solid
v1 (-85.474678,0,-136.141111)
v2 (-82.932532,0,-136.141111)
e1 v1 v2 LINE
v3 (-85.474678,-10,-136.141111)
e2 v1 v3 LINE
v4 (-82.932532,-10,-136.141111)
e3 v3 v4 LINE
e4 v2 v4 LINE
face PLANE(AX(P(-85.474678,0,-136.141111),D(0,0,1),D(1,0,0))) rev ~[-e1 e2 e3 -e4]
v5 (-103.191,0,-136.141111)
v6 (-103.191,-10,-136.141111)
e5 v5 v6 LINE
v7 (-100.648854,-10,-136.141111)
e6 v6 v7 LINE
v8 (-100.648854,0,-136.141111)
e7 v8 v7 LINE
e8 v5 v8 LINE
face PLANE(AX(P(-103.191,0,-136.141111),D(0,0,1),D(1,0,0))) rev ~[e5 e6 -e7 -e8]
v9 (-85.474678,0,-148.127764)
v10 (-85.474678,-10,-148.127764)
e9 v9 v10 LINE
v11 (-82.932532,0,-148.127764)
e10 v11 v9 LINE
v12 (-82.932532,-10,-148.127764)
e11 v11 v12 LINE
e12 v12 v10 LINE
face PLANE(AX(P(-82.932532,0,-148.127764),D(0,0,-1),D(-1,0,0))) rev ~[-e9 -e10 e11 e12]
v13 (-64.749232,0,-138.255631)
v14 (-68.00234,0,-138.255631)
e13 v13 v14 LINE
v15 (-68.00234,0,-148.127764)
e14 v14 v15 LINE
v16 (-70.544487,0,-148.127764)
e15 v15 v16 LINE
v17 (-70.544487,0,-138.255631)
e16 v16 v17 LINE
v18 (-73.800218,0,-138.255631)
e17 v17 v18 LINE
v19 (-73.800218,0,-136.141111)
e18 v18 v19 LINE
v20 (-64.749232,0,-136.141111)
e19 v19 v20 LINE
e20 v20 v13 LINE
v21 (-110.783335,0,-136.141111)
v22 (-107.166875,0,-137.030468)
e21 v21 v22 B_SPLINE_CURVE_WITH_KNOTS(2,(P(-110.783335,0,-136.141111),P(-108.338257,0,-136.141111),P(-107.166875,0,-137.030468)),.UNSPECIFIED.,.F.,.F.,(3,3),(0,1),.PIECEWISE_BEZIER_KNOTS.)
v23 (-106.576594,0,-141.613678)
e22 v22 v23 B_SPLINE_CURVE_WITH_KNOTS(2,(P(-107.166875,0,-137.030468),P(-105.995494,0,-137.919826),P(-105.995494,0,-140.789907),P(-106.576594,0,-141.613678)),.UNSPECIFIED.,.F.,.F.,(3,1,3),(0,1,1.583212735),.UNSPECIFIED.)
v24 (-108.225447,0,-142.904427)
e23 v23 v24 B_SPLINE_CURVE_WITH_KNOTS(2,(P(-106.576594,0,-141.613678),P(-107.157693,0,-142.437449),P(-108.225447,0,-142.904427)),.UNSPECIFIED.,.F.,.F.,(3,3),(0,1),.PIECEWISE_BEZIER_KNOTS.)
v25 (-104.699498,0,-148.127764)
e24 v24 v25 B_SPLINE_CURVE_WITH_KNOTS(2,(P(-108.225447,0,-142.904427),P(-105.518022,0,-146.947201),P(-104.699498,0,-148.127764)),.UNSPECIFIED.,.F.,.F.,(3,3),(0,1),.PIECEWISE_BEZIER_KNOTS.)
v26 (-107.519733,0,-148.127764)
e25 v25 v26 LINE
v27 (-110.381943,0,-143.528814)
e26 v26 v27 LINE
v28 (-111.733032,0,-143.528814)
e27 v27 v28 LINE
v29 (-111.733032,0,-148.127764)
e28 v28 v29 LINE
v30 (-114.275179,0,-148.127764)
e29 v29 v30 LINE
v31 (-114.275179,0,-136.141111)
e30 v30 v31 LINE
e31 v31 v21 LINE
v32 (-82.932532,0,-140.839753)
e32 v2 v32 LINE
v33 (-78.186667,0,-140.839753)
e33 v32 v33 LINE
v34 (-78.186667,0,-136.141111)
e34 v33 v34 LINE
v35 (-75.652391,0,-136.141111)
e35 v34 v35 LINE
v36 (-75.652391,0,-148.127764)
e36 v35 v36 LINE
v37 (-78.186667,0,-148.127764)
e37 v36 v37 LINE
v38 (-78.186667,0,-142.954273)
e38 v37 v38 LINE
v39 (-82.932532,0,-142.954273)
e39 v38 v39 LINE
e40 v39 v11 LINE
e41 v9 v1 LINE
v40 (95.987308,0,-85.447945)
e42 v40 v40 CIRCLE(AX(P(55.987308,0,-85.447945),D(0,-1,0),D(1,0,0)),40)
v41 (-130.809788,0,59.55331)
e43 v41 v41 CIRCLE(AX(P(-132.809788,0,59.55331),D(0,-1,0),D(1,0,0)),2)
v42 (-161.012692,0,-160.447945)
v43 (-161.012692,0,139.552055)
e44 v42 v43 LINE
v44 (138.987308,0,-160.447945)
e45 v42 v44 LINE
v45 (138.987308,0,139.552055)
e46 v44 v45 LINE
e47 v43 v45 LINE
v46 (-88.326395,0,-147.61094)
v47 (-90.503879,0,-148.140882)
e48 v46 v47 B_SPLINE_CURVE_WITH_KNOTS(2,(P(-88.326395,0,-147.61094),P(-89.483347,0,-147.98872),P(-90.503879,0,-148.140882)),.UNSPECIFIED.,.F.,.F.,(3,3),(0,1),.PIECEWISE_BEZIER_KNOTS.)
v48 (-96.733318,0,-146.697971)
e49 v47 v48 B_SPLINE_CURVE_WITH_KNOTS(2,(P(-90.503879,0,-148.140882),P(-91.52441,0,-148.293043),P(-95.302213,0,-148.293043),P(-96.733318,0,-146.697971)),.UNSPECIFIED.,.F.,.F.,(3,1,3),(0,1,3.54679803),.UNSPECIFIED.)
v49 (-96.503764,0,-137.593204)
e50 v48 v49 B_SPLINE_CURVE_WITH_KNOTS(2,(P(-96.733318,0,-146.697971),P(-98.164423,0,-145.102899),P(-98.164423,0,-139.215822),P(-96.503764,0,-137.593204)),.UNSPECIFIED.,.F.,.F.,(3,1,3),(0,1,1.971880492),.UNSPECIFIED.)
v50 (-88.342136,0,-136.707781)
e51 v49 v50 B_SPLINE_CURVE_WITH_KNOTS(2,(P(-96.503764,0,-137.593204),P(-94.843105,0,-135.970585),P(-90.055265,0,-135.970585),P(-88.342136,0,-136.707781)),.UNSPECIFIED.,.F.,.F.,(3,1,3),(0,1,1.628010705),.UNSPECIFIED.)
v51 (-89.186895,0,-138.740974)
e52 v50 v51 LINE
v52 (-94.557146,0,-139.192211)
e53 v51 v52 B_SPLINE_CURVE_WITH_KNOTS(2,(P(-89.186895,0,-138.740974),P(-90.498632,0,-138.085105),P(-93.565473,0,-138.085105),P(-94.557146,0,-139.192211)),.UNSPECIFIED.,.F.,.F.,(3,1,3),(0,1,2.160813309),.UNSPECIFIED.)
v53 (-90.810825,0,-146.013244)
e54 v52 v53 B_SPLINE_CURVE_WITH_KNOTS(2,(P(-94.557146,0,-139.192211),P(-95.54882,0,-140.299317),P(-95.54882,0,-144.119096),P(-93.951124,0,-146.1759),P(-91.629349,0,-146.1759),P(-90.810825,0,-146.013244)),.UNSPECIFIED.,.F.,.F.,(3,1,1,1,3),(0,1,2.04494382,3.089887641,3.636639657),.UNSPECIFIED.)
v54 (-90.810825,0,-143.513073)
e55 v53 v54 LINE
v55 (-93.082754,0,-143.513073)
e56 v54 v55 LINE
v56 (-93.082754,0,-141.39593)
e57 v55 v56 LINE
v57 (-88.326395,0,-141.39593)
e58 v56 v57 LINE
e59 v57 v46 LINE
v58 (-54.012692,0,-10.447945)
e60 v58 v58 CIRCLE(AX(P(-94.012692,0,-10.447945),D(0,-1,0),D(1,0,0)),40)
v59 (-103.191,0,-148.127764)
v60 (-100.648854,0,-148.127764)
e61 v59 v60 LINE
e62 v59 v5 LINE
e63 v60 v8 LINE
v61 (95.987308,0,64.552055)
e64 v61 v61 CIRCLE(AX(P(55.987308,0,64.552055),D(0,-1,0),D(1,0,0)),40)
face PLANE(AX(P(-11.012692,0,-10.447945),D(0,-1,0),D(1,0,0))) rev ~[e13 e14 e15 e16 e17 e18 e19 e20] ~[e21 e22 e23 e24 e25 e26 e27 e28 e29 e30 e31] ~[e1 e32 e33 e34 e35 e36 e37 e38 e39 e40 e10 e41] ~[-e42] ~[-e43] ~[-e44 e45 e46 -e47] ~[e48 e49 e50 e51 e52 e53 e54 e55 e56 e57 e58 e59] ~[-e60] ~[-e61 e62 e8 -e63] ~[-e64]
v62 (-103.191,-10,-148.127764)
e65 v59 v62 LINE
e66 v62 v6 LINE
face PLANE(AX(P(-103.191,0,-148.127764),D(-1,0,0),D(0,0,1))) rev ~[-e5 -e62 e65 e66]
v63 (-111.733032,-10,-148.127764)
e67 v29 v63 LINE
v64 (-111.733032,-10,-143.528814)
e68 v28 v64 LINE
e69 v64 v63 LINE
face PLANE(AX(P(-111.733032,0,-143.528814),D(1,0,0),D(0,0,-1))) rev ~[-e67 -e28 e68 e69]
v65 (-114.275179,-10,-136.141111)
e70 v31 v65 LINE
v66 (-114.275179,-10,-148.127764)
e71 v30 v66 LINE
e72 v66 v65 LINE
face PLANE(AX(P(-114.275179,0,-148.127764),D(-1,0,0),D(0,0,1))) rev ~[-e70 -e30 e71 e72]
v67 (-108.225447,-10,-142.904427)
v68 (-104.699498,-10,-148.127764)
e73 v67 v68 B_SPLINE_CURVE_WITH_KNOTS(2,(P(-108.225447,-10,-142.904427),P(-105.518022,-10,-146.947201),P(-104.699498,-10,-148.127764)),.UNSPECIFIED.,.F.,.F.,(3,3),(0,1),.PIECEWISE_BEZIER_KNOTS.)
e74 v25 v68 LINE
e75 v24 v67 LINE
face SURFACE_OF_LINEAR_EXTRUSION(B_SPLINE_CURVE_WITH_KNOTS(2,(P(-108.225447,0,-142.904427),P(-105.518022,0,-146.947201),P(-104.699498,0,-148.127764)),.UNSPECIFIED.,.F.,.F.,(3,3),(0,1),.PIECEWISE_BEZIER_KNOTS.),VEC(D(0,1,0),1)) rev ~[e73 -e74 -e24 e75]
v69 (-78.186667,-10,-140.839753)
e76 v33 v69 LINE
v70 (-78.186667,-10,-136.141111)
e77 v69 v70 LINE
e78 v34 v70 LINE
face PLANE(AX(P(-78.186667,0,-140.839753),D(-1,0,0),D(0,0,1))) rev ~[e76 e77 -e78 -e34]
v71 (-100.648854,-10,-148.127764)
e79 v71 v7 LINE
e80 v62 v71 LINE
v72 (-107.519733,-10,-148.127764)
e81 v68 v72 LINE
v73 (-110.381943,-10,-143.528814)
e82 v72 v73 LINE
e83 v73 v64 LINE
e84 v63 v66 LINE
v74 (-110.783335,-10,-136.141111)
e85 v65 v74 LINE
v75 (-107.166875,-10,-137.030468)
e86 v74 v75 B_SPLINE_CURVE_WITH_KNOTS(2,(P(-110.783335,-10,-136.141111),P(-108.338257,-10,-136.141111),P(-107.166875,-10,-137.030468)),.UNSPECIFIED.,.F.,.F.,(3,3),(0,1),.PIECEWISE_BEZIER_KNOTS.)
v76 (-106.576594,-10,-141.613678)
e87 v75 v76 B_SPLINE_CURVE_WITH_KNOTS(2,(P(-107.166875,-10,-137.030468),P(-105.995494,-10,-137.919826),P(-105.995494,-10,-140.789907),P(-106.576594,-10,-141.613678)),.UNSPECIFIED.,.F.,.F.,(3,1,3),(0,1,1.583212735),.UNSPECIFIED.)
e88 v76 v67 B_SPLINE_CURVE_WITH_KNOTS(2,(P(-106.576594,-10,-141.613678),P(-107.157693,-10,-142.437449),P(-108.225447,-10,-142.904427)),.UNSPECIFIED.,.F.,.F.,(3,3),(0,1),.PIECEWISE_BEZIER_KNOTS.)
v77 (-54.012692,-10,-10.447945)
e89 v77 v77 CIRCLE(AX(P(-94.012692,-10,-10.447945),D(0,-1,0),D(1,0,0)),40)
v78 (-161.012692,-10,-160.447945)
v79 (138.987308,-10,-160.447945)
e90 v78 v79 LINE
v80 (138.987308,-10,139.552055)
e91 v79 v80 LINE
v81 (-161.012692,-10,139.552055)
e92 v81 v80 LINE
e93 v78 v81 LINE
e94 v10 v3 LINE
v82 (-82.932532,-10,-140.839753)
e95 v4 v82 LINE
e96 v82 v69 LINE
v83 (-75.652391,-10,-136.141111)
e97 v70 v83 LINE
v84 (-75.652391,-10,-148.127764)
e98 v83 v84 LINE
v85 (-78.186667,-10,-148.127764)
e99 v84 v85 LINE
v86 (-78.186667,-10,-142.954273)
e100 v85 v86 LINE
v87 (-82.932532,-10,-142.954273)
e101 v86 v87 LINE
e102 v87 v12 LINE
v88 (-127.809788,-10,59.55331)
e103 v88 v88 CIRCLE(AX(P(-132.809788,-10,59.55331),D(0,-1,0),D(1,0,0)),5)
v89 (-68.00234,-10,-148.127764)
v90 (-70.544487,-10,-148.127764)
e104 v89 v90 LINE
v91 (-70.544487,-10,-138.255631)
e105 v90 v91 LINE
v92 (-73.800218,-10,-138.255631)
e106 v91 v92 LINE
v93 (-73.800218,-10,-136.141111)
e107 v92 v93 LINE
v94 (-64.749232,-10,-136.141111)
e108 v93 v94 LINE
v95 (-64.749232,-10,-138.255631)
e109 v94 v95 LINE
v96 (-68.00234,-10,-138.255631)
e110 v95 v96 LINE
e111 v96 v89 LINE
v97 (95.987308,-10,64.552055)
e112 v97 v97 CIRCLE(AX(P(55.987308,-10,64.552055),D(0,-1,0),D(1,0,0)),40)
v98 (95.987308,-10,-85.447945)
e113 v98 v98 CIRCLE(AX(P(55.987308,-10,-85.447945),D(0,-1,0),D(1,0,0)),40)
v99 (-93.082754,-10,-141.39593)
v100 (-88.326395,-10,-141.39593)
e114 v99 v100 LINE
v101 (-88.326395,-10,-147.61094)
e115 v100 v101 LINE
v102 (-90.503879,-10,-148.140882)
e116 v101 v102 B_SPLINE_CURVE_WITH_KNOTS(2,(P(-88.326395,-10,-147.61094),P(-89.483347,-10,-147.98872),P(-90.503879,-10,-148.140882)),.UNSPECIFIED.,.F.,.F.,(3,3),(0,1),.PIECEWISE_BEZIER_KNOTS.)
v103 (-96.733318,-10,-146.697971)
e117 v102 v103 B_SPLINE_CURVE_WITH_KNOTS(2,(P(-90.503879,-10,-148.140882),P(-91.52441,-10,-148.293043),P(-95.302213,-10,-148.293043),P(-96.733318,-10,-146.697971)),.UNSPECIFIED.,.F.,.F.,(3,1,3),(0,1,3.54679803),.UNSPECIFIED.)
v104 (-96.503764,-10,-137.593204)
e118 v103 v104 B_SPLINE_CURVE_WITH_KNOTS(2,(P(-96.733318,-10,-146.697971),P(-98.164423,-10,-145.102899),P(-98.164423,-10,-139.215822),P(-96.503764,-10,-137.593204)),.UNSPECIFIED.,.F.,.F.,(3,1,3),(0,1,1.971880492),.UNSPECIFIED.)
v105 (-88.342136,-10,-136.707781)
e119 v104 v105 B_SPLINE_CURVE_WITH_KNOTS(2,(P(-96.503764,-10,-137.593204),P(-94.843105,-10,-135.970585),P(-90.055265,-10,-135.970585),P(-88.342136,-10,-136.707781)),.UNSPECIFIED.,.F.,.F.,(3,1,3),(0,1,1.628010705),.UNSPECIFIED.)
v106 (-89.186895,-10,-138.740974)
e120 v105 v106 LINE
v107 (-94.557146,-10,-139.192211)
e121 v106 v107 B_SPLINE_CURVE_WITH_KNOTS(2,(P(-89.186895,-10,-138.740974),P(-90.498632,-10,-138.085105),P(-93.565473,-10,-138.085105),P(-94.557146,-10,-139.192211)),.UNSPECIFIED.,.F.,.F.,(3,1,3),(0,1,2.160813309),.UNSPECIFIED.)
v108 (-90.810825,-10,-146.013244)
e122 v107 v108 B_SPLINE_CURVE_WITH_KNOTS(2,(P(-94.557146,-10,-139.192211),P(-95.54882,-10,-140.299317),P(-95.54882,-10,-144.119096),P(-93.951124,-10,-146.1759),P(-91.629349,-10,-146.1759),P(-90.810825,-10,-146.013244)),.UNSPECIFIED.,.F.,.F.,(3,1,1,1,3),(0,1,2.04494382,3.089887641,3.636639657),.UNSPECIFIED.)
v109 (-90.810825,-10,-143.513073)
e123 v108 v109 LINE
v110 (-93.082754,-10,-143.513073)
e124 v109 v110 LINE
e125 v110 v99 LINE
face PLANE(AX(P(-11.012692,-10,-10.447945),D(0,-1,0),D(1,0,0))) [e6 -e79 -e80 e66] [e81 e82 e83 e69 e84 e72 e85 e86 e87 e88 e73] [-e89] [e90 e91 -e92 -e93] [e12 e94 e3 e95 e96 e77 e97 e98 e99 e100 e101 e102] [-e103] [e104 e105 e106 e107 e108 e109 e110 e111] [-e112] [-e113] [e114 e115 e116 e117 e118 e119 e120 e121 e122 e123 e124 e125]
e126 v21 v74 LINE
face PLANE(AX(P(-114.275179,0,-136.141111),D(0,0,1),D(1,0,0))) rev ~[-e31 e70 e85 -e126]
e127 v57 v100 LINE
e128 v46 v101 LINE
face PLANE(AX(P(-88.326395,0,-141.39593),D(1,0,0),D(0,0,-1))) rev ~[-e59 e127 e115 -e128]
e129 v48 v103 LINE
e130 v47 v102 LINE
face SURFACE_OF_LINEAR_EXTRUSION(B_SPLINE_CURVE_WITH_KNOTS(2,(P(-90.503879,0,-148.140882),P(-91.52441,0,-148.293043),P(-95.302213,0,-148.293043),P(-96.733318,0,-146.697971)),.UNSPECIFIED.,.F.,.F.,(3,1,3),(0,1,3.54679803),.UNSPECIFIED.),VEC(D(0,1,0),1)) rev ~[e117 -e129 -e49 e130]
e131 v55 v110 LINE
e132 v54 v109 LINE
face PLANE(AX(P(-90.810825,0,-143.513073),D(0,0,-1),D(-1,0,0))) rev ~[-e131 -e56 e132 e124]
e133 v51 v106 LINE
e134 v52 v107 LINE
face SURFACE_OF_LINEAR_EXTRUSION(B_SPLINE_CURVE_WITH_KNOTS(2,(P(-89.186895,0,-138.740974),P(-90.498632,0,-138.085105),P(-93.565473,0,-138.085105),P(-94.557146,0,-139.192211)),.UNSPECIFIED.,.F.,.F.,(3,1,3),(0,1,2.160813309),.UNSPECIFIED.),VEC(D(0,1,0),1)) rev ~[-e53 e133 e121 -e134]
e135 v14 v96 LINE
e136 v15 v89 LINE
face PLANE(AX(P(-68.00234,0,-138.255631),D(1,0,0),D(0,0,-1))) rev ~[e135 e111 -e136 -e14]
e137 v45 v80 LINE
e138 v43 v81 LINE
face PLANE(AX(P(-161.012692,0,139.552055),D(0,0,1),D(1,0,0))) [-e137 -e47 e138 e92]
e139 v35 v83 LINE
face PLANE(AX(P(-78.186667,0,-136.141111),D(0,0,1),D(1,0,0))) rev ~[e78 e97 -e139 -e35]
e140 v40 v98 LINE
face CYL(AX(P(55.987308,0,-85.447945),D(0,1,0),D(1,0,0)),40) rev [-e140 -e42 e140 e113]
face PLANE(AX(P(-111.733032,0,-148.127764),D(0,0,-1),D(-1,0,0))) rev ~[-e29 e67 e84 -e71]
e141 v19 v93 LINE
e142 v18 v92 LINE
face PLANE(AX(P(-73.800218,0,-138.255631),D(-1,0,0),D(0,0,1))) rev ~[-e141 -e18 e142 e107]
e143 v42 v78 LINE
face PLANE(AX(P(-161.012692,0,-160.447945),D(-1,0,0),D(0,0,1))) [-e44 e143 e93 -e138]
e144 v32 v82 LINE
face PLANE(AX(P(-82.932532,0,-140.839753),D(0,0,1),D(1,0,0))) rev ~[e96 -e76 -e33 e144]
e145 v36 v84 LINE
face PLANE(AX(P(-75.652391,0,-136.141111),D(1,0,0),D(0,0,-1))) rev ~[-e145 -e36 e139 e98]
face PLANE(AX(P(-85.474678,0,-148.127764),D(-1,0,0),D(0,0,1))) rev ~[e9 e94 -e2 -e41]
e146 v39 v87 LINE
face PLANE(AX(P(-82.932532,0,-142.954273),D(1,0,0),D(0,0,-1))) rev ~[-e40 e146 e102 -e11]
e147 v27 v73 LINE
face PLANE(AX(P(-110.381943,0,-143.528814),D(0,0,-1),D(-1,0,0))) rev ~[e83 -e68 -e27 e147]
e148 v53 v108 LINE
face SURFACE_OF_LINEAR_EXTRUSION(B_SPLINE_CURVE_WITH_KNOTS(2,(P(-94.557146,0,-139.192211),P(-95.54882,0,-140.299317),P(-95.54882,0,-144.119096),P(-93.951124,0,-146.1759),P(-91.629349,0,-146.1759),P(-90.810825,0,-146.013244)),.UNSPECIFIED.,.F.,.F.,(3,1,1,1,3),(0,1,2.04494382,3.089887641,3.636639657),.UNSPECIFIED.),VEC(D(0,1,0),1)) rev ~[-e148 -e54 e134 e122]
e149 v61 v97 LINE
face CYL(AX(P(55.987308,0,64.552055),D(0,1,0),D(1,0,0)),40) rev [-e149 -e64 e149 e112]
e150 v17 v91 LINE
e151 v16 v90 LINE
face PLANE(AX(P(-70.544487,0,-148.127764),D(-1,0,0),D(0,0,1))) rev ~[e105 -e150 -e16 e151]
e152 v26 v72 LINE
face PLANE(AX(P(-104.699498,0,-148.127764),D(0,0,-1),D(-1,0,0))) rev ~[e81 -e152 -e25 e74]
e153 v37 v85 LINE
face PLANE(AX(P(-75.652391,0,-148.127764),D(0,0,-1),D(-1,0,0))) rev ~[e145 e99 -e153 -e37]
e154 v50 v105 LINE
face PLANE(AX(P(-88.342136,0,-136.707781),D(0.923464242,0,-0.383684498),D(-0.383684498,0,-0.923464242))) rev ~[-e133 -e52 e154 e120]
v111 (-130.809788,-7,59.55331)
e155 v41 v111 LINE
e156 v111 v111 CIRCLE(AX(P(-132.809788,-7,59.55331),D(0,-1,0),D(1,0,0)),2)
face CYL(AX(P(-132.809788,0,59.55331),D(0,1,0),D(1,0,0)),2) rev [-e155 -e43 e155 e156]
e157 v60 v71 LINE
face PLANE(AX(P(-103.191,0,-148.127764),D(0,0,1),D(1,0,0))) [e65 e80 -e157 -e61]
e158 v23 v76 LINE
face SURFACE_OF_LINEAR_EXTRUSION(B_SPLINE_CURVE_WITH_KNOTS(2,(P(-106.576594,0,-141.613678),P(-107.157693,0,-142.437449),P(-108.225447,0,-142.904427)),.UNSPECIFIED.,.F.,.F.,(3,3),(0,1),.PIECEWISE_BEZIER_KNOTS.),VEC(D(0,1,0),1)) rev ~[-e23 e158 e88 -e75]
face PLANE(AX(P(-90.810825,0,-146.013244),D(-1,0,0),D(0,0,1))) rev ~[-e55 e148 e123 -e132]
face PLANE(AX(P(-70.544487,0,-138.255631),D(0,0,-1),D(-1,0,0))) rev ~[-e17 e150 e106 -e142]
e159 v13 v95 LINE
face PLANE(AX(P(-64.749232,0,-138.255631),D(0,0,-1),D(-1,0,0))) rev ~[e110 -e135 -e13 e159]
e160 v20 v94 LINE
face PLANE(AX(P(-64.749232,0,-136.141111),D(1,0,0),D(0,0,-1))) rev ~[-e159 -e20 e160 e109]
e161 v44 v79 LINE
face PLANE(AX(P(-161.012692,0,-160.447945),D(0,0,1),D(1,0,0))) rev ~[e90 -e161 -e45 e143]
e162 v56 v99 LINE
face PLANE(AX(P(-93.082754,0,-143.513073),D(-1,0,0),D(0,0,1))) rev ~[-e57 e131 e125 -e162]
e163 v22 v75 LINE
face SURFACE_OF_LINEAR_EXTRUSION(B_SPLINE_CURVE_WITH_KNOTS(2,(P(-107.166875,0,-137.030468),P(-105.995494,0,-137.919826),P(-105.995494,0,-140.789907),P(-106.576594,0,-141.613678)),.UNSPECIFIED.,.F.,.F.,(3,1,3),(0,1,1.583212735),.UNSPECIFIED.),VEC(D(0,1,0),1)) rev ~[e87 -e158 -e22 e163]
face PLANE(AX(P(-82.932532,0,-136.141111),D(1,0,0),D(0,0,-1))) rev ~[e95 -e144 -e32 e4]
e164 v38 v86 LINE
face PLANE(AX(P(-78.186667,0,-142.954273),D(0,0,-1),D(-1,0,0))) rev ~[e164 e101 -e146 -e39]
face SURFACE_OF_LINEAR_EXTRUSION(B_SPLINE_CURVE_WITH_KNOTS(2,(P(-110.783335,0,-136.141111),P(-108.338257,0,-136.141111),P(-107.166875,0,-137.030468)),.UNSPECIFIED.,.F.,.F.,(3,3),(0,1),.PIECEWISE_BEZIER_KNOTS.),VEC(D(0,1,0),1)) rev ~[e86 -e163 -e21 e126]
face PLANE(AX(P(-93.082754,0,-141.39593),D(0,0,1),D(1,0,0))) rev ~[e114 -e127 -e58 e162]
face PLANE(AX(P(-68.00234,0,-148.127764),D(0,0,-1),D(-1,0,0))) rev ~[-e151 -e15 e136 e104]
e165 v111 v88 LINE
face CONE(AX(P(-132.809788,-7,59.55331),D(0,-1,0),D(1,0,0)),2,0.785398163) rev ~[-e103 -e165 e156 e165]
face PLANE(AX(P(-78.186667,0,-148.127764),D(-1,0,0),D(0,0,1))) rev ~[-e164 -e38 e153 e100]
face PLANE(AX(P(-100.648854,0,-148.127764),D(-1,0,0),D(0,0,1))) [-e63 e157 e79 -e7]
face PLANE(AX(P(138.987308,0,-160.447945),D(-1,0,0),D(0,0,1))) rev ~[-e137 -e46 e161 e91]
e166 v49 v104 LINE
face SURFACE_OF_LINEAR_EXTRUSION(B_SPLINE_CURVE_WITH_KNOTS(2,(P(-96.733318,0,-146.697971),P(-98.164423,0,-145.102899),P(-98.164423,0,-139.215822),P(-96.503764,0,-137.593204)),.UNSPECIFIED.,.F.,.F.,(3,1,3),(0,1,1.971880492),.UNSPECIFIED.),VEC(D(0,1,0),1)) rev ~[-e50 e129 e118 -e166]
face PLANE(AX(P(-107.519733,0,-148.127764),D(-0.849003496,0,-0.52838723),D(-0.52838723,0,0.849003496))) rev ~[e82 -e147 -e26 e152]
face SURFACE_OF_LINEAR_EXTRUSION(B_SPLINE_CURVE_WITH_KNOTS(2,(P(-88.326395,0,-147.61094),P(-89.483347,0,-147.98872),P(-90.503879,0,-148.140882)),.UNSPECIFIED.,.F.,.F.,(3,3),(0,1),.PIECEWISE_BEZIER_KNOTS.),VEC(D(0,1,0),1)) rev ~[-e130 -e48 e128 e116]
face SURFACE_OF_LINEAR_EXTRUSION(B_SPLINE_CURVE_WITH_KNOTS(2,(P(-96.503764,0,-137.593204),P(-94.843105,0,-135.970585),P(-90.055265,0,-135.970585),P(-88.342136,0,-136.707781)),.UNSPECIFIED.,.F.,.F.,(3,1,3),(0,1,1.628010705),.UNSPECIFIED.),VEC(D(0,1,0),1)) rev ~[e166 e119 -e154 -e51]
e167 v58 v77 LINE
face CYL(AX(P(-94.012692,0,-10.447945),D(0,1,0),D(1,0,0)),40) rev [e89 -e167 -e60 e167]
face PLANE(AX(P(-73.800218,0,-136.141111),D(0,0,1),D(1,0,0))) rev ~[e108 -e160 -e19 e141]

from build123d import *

# Parameters (mm, degrees)
F0_W     = 300
F0_H     = 300
F0_W_2   = 2.5421465495
F0_H_2   = 11.9866538541
F0_R     = 40
F0_R_2   = 2
F1_DEPTH = 10
F2_SIZE  = 3


with BuildPart() as f1:
    # F0 (on Front) → F1 (new body)
    with BuildSketch(Plane.XZ):
        with Locations((-11.0126920044, -10.4479454458)):
            Rectangle(F0_W, F0_H)
        with BuildLine():
            Line((-110.3819430217, -143.5288141009), (-111.7330322611, -143.5288141009))
            Line((-111.7330322611, -143.5288141009), (-111.7330322611, -148.1277644634))
            Line((-111.7330322611, -148.1277644634), (-114.2751788106, -148.1277644634))
            Line((-114.2751788106, -148.1277644634), (-114.2751788106, -136.1411106094))
            Line((-114.2751788106, -136.1411106094), (-110.7833345822, -136.1411106094))
            add(Edge.make_bspline(
                [(-110.7833345822, -136.1411106094), (-108.33825658, -136.1411106094), (-107.1668753268, -137.0304683805)],
                knots=[0, 0, 0, 1, 1, 1], degree=2))
            add(Edge.make_bspline(
                [(-107.1668753268, -137.0304683805), (-105.9954940736, -137.9198261517), (-105.9954940736, -139.7326468594)],
                knots=[0, 0, 0, 1, 1, 1], degree=2))
            add(Edge.make_bspline(
                [(-105.9954940736, -139.7326468594), (-105.9954940736, -140.7899069826), (-106.5765936202, -141.6136778975)],
                knots=[0, 0, 0, 1, 1, 1], degree=2))
            add(Edge.make_bspline(
                [(-106.5765936202, -141.6136778975), (-107.1576931669, -142.4374488124), (-108.2254471872, -142.9044272291)],
                knots=[0, 0, 0, 1, 1, 1], degree=2))
            add(Edge.make_bspline(
                [(-108.2254471872, -142.9044272291), (-105.5180217599, -146.9472010504), (-104.6994977935, -148.1277644634)],
                knots=[0, 0, 0, 1, 1, 1], degree=2))
            Line((-104.6994977935, -148.1277644634), (-107.5197326136, -148.1277644634))
            Line((-107.5197326136, -148.1277644634), (-110.3819430217, -143.5288141009))
        make_face(mode=Mode.SUBTRACT)
        with Locations((-101.9199268242, -142.1344375364)):
            Rectangle(F0_W_2, F0_H_2, mode=Mode.SUBTRACT)
        with BuildLine():
            Line((-93.0827538088, -143.5130732554), (-93.0827538088, -141.3959295347))
            Line((-93.0827538088, -141.3959295347), (-88.3263949913, -141.3959295347))
            Line((-88.3263949913, -141.3959295347), (-88.3263949913, -147.6109400359))
            add(Edge.make_bspline(
                [(-88.3263949913, -147.6109400359), (-89.4833471361, -147.9887203281), (-90.5038786198, -148.1408818347)],
                knots=[0, 0, 0, 1, 1, 1], degree=2))
            add(Edge.make_bspline(
                [(-90.5038786198, -148.1408818347), (-91.5244101036, -148.2930433413), (-92.5895406496, -148.2930433413)],
                knots=[0, 0, 0, 1, 1, 1], degree=2))
            add(Edge.make_bspline(
                [(-92.5895406496, -148.2930433413), (-95.3022130254, -148.2930433413), (-96.7333182295, -146.6979709965)],
                knots=[0, 0, 0, 1, 1, 1], degree=2))
            add(Edge.make_bspline(
                [(-96.7333182295, -146.6979709965), (-98.1644234335, -145.1028986517), (-98.1644234335, -142.1173849538)],
                knots=[0, 0, 0, 1, 1, 1], degree=2))
            add(Edge.make_bspline(
                [(-98.1644234335, -142.1173849538), (-98.1644234335, -139.2158224319), (-96.5037642325, -137.5932036074)],
                knots=[0, 0, 0, 1, 1, 1], degree=2))
            add(Edge.make_bspline(
                [(-96.5037642325, -137.5932036074), (-94.8431050314, -135.970584783), (-91.9021903958, -135.970584783)],
                knots=[0, 0, 0, 1, 1, 1], degree=2))
            add(Edge.make_bspline(
                [(-91.9021903958, -135.970584783), (-90.0552645229, -135.970584783), (-88.3421358368, -136.7077810476)],
                knots=[0, 0, 0, 1, 1, 1], degree=2))
            Line((-88.3421358368, -136.7077810476), (-89.1868945457, -138.7409735924))
            add(Edge.make_bspline(
                [(-89.1868945457, -138.7409735924), (-90.4986316713, -138.0851050296), (-91.9179312413, -138.0851050296)],
                knots=[0, 0, 0, 1, 1, 1], degree=2))
            add(Edge.make_bspline(
                [(-91.9179312413, -138.0851050296), (-93.5654730711, -138.0851050296), (-94.557146338, -139.1922111636)],
                knots=[0, 0, 0, 1, 1, 1], degree=2))
            add(Edge.make_bspline(
                [(-94.557146338, -139.1922111636), (-95.548819605, -140.2993172976), (-95.548819605, -142.1672309645)],
                knots=[0, 0, 0, 1, 1, 1], degree=2))
            add(Edge.make_bspline(
                [(-95.548819605, -142.1672309645), (-95.548819605, -144.1190958075), (-94.7499716955, -145.147497714)],
                knots=[0, 0, 0, 1, 1, 1], degree=2))
            add(Edge.make_bspline(
                [(-94.7499716955, -145.147497714), (-93.951123786, -146.1758996205), (-92.426885246, -146.1758996205)],
                knots=[0, 0, 0, 1, 1, 1], degree=2))
            add(Edge.make_bspline(
                [(-92.426885246, -146.1758996205), (-91.6293490736, -146.1758996205), (-90.8108251072, -146.0132442169)],
                knots=[0, 0, 0, 1, 1, 1], degree=2))
            Line((-90.8108251072, -146.0132442169), (-90.8108251072, -143.5130732554))
            Line((-90.8108251072, -143.5130732554), (-93.0827538088, -143.5130732554))
        make_face(mode=Mode.SUBTRACT)
        Polygon((-75.6523908834, -136.1411106094), (-75.6523908834, -148.1277644634), (-78.1866670101, -148.1277644634), (-78.1866670101, -142.9542732399), (-82.9325319307, -142.9542732399), (-82.9325319307, -148.1277644634), (-85.4746784801, -148.1277644634), (-85.4746784801, -136.1411106094), (-82.9325319307, -136.1411106094), (-82.9325319307, -140.8397529934), (-78.1866670101, -140.8397529934), (-78.1866670101, -136.1411106094), align=None, mode=Mode.SUBTRACT)
        Polygon((-68.0023399667, -138.2556308559), (-68.0023399667, -148.1277644634), (-70.5444865162, -148.1277644634), (-70.5444865162, -138.2556308559), (-73.800218062, -138.2556308559), (-73.800218062, -136.1411106094), (-64.7492318951, -136.1411106094), (-64.7492318951, -138.2556308559), align=None, mode=Mode.SUBTRACT)
        with Locations((55.9873079956, -85.4479454458)):
            Circle(F0_R, mode=Mode.SUBTRACT)
        with Locations((-94.0126920044, -10.4479454458)):
            Circle(F0_R, mode=Mode.SUBTRACT)
        with Locations((-132.8097879887, 59.5533102751)):
            Circle(F0_R_2, mode=Mode.SUBTRACT)
        with Locations((55.9873079956, 64.5520545542)):
            Circle(F0_R, mode=Mode.SUBTRACT)
    extrude(amount=F1_DEPTH)

    # F2
    f2_edges = [f1.edges().sort_by_distance(p)[0] for p in [
        (-134.809788, -10, 59.55331),
    ]]
    chamfer(f2_edges, length=F2_SIZE)


solid = f1.part
